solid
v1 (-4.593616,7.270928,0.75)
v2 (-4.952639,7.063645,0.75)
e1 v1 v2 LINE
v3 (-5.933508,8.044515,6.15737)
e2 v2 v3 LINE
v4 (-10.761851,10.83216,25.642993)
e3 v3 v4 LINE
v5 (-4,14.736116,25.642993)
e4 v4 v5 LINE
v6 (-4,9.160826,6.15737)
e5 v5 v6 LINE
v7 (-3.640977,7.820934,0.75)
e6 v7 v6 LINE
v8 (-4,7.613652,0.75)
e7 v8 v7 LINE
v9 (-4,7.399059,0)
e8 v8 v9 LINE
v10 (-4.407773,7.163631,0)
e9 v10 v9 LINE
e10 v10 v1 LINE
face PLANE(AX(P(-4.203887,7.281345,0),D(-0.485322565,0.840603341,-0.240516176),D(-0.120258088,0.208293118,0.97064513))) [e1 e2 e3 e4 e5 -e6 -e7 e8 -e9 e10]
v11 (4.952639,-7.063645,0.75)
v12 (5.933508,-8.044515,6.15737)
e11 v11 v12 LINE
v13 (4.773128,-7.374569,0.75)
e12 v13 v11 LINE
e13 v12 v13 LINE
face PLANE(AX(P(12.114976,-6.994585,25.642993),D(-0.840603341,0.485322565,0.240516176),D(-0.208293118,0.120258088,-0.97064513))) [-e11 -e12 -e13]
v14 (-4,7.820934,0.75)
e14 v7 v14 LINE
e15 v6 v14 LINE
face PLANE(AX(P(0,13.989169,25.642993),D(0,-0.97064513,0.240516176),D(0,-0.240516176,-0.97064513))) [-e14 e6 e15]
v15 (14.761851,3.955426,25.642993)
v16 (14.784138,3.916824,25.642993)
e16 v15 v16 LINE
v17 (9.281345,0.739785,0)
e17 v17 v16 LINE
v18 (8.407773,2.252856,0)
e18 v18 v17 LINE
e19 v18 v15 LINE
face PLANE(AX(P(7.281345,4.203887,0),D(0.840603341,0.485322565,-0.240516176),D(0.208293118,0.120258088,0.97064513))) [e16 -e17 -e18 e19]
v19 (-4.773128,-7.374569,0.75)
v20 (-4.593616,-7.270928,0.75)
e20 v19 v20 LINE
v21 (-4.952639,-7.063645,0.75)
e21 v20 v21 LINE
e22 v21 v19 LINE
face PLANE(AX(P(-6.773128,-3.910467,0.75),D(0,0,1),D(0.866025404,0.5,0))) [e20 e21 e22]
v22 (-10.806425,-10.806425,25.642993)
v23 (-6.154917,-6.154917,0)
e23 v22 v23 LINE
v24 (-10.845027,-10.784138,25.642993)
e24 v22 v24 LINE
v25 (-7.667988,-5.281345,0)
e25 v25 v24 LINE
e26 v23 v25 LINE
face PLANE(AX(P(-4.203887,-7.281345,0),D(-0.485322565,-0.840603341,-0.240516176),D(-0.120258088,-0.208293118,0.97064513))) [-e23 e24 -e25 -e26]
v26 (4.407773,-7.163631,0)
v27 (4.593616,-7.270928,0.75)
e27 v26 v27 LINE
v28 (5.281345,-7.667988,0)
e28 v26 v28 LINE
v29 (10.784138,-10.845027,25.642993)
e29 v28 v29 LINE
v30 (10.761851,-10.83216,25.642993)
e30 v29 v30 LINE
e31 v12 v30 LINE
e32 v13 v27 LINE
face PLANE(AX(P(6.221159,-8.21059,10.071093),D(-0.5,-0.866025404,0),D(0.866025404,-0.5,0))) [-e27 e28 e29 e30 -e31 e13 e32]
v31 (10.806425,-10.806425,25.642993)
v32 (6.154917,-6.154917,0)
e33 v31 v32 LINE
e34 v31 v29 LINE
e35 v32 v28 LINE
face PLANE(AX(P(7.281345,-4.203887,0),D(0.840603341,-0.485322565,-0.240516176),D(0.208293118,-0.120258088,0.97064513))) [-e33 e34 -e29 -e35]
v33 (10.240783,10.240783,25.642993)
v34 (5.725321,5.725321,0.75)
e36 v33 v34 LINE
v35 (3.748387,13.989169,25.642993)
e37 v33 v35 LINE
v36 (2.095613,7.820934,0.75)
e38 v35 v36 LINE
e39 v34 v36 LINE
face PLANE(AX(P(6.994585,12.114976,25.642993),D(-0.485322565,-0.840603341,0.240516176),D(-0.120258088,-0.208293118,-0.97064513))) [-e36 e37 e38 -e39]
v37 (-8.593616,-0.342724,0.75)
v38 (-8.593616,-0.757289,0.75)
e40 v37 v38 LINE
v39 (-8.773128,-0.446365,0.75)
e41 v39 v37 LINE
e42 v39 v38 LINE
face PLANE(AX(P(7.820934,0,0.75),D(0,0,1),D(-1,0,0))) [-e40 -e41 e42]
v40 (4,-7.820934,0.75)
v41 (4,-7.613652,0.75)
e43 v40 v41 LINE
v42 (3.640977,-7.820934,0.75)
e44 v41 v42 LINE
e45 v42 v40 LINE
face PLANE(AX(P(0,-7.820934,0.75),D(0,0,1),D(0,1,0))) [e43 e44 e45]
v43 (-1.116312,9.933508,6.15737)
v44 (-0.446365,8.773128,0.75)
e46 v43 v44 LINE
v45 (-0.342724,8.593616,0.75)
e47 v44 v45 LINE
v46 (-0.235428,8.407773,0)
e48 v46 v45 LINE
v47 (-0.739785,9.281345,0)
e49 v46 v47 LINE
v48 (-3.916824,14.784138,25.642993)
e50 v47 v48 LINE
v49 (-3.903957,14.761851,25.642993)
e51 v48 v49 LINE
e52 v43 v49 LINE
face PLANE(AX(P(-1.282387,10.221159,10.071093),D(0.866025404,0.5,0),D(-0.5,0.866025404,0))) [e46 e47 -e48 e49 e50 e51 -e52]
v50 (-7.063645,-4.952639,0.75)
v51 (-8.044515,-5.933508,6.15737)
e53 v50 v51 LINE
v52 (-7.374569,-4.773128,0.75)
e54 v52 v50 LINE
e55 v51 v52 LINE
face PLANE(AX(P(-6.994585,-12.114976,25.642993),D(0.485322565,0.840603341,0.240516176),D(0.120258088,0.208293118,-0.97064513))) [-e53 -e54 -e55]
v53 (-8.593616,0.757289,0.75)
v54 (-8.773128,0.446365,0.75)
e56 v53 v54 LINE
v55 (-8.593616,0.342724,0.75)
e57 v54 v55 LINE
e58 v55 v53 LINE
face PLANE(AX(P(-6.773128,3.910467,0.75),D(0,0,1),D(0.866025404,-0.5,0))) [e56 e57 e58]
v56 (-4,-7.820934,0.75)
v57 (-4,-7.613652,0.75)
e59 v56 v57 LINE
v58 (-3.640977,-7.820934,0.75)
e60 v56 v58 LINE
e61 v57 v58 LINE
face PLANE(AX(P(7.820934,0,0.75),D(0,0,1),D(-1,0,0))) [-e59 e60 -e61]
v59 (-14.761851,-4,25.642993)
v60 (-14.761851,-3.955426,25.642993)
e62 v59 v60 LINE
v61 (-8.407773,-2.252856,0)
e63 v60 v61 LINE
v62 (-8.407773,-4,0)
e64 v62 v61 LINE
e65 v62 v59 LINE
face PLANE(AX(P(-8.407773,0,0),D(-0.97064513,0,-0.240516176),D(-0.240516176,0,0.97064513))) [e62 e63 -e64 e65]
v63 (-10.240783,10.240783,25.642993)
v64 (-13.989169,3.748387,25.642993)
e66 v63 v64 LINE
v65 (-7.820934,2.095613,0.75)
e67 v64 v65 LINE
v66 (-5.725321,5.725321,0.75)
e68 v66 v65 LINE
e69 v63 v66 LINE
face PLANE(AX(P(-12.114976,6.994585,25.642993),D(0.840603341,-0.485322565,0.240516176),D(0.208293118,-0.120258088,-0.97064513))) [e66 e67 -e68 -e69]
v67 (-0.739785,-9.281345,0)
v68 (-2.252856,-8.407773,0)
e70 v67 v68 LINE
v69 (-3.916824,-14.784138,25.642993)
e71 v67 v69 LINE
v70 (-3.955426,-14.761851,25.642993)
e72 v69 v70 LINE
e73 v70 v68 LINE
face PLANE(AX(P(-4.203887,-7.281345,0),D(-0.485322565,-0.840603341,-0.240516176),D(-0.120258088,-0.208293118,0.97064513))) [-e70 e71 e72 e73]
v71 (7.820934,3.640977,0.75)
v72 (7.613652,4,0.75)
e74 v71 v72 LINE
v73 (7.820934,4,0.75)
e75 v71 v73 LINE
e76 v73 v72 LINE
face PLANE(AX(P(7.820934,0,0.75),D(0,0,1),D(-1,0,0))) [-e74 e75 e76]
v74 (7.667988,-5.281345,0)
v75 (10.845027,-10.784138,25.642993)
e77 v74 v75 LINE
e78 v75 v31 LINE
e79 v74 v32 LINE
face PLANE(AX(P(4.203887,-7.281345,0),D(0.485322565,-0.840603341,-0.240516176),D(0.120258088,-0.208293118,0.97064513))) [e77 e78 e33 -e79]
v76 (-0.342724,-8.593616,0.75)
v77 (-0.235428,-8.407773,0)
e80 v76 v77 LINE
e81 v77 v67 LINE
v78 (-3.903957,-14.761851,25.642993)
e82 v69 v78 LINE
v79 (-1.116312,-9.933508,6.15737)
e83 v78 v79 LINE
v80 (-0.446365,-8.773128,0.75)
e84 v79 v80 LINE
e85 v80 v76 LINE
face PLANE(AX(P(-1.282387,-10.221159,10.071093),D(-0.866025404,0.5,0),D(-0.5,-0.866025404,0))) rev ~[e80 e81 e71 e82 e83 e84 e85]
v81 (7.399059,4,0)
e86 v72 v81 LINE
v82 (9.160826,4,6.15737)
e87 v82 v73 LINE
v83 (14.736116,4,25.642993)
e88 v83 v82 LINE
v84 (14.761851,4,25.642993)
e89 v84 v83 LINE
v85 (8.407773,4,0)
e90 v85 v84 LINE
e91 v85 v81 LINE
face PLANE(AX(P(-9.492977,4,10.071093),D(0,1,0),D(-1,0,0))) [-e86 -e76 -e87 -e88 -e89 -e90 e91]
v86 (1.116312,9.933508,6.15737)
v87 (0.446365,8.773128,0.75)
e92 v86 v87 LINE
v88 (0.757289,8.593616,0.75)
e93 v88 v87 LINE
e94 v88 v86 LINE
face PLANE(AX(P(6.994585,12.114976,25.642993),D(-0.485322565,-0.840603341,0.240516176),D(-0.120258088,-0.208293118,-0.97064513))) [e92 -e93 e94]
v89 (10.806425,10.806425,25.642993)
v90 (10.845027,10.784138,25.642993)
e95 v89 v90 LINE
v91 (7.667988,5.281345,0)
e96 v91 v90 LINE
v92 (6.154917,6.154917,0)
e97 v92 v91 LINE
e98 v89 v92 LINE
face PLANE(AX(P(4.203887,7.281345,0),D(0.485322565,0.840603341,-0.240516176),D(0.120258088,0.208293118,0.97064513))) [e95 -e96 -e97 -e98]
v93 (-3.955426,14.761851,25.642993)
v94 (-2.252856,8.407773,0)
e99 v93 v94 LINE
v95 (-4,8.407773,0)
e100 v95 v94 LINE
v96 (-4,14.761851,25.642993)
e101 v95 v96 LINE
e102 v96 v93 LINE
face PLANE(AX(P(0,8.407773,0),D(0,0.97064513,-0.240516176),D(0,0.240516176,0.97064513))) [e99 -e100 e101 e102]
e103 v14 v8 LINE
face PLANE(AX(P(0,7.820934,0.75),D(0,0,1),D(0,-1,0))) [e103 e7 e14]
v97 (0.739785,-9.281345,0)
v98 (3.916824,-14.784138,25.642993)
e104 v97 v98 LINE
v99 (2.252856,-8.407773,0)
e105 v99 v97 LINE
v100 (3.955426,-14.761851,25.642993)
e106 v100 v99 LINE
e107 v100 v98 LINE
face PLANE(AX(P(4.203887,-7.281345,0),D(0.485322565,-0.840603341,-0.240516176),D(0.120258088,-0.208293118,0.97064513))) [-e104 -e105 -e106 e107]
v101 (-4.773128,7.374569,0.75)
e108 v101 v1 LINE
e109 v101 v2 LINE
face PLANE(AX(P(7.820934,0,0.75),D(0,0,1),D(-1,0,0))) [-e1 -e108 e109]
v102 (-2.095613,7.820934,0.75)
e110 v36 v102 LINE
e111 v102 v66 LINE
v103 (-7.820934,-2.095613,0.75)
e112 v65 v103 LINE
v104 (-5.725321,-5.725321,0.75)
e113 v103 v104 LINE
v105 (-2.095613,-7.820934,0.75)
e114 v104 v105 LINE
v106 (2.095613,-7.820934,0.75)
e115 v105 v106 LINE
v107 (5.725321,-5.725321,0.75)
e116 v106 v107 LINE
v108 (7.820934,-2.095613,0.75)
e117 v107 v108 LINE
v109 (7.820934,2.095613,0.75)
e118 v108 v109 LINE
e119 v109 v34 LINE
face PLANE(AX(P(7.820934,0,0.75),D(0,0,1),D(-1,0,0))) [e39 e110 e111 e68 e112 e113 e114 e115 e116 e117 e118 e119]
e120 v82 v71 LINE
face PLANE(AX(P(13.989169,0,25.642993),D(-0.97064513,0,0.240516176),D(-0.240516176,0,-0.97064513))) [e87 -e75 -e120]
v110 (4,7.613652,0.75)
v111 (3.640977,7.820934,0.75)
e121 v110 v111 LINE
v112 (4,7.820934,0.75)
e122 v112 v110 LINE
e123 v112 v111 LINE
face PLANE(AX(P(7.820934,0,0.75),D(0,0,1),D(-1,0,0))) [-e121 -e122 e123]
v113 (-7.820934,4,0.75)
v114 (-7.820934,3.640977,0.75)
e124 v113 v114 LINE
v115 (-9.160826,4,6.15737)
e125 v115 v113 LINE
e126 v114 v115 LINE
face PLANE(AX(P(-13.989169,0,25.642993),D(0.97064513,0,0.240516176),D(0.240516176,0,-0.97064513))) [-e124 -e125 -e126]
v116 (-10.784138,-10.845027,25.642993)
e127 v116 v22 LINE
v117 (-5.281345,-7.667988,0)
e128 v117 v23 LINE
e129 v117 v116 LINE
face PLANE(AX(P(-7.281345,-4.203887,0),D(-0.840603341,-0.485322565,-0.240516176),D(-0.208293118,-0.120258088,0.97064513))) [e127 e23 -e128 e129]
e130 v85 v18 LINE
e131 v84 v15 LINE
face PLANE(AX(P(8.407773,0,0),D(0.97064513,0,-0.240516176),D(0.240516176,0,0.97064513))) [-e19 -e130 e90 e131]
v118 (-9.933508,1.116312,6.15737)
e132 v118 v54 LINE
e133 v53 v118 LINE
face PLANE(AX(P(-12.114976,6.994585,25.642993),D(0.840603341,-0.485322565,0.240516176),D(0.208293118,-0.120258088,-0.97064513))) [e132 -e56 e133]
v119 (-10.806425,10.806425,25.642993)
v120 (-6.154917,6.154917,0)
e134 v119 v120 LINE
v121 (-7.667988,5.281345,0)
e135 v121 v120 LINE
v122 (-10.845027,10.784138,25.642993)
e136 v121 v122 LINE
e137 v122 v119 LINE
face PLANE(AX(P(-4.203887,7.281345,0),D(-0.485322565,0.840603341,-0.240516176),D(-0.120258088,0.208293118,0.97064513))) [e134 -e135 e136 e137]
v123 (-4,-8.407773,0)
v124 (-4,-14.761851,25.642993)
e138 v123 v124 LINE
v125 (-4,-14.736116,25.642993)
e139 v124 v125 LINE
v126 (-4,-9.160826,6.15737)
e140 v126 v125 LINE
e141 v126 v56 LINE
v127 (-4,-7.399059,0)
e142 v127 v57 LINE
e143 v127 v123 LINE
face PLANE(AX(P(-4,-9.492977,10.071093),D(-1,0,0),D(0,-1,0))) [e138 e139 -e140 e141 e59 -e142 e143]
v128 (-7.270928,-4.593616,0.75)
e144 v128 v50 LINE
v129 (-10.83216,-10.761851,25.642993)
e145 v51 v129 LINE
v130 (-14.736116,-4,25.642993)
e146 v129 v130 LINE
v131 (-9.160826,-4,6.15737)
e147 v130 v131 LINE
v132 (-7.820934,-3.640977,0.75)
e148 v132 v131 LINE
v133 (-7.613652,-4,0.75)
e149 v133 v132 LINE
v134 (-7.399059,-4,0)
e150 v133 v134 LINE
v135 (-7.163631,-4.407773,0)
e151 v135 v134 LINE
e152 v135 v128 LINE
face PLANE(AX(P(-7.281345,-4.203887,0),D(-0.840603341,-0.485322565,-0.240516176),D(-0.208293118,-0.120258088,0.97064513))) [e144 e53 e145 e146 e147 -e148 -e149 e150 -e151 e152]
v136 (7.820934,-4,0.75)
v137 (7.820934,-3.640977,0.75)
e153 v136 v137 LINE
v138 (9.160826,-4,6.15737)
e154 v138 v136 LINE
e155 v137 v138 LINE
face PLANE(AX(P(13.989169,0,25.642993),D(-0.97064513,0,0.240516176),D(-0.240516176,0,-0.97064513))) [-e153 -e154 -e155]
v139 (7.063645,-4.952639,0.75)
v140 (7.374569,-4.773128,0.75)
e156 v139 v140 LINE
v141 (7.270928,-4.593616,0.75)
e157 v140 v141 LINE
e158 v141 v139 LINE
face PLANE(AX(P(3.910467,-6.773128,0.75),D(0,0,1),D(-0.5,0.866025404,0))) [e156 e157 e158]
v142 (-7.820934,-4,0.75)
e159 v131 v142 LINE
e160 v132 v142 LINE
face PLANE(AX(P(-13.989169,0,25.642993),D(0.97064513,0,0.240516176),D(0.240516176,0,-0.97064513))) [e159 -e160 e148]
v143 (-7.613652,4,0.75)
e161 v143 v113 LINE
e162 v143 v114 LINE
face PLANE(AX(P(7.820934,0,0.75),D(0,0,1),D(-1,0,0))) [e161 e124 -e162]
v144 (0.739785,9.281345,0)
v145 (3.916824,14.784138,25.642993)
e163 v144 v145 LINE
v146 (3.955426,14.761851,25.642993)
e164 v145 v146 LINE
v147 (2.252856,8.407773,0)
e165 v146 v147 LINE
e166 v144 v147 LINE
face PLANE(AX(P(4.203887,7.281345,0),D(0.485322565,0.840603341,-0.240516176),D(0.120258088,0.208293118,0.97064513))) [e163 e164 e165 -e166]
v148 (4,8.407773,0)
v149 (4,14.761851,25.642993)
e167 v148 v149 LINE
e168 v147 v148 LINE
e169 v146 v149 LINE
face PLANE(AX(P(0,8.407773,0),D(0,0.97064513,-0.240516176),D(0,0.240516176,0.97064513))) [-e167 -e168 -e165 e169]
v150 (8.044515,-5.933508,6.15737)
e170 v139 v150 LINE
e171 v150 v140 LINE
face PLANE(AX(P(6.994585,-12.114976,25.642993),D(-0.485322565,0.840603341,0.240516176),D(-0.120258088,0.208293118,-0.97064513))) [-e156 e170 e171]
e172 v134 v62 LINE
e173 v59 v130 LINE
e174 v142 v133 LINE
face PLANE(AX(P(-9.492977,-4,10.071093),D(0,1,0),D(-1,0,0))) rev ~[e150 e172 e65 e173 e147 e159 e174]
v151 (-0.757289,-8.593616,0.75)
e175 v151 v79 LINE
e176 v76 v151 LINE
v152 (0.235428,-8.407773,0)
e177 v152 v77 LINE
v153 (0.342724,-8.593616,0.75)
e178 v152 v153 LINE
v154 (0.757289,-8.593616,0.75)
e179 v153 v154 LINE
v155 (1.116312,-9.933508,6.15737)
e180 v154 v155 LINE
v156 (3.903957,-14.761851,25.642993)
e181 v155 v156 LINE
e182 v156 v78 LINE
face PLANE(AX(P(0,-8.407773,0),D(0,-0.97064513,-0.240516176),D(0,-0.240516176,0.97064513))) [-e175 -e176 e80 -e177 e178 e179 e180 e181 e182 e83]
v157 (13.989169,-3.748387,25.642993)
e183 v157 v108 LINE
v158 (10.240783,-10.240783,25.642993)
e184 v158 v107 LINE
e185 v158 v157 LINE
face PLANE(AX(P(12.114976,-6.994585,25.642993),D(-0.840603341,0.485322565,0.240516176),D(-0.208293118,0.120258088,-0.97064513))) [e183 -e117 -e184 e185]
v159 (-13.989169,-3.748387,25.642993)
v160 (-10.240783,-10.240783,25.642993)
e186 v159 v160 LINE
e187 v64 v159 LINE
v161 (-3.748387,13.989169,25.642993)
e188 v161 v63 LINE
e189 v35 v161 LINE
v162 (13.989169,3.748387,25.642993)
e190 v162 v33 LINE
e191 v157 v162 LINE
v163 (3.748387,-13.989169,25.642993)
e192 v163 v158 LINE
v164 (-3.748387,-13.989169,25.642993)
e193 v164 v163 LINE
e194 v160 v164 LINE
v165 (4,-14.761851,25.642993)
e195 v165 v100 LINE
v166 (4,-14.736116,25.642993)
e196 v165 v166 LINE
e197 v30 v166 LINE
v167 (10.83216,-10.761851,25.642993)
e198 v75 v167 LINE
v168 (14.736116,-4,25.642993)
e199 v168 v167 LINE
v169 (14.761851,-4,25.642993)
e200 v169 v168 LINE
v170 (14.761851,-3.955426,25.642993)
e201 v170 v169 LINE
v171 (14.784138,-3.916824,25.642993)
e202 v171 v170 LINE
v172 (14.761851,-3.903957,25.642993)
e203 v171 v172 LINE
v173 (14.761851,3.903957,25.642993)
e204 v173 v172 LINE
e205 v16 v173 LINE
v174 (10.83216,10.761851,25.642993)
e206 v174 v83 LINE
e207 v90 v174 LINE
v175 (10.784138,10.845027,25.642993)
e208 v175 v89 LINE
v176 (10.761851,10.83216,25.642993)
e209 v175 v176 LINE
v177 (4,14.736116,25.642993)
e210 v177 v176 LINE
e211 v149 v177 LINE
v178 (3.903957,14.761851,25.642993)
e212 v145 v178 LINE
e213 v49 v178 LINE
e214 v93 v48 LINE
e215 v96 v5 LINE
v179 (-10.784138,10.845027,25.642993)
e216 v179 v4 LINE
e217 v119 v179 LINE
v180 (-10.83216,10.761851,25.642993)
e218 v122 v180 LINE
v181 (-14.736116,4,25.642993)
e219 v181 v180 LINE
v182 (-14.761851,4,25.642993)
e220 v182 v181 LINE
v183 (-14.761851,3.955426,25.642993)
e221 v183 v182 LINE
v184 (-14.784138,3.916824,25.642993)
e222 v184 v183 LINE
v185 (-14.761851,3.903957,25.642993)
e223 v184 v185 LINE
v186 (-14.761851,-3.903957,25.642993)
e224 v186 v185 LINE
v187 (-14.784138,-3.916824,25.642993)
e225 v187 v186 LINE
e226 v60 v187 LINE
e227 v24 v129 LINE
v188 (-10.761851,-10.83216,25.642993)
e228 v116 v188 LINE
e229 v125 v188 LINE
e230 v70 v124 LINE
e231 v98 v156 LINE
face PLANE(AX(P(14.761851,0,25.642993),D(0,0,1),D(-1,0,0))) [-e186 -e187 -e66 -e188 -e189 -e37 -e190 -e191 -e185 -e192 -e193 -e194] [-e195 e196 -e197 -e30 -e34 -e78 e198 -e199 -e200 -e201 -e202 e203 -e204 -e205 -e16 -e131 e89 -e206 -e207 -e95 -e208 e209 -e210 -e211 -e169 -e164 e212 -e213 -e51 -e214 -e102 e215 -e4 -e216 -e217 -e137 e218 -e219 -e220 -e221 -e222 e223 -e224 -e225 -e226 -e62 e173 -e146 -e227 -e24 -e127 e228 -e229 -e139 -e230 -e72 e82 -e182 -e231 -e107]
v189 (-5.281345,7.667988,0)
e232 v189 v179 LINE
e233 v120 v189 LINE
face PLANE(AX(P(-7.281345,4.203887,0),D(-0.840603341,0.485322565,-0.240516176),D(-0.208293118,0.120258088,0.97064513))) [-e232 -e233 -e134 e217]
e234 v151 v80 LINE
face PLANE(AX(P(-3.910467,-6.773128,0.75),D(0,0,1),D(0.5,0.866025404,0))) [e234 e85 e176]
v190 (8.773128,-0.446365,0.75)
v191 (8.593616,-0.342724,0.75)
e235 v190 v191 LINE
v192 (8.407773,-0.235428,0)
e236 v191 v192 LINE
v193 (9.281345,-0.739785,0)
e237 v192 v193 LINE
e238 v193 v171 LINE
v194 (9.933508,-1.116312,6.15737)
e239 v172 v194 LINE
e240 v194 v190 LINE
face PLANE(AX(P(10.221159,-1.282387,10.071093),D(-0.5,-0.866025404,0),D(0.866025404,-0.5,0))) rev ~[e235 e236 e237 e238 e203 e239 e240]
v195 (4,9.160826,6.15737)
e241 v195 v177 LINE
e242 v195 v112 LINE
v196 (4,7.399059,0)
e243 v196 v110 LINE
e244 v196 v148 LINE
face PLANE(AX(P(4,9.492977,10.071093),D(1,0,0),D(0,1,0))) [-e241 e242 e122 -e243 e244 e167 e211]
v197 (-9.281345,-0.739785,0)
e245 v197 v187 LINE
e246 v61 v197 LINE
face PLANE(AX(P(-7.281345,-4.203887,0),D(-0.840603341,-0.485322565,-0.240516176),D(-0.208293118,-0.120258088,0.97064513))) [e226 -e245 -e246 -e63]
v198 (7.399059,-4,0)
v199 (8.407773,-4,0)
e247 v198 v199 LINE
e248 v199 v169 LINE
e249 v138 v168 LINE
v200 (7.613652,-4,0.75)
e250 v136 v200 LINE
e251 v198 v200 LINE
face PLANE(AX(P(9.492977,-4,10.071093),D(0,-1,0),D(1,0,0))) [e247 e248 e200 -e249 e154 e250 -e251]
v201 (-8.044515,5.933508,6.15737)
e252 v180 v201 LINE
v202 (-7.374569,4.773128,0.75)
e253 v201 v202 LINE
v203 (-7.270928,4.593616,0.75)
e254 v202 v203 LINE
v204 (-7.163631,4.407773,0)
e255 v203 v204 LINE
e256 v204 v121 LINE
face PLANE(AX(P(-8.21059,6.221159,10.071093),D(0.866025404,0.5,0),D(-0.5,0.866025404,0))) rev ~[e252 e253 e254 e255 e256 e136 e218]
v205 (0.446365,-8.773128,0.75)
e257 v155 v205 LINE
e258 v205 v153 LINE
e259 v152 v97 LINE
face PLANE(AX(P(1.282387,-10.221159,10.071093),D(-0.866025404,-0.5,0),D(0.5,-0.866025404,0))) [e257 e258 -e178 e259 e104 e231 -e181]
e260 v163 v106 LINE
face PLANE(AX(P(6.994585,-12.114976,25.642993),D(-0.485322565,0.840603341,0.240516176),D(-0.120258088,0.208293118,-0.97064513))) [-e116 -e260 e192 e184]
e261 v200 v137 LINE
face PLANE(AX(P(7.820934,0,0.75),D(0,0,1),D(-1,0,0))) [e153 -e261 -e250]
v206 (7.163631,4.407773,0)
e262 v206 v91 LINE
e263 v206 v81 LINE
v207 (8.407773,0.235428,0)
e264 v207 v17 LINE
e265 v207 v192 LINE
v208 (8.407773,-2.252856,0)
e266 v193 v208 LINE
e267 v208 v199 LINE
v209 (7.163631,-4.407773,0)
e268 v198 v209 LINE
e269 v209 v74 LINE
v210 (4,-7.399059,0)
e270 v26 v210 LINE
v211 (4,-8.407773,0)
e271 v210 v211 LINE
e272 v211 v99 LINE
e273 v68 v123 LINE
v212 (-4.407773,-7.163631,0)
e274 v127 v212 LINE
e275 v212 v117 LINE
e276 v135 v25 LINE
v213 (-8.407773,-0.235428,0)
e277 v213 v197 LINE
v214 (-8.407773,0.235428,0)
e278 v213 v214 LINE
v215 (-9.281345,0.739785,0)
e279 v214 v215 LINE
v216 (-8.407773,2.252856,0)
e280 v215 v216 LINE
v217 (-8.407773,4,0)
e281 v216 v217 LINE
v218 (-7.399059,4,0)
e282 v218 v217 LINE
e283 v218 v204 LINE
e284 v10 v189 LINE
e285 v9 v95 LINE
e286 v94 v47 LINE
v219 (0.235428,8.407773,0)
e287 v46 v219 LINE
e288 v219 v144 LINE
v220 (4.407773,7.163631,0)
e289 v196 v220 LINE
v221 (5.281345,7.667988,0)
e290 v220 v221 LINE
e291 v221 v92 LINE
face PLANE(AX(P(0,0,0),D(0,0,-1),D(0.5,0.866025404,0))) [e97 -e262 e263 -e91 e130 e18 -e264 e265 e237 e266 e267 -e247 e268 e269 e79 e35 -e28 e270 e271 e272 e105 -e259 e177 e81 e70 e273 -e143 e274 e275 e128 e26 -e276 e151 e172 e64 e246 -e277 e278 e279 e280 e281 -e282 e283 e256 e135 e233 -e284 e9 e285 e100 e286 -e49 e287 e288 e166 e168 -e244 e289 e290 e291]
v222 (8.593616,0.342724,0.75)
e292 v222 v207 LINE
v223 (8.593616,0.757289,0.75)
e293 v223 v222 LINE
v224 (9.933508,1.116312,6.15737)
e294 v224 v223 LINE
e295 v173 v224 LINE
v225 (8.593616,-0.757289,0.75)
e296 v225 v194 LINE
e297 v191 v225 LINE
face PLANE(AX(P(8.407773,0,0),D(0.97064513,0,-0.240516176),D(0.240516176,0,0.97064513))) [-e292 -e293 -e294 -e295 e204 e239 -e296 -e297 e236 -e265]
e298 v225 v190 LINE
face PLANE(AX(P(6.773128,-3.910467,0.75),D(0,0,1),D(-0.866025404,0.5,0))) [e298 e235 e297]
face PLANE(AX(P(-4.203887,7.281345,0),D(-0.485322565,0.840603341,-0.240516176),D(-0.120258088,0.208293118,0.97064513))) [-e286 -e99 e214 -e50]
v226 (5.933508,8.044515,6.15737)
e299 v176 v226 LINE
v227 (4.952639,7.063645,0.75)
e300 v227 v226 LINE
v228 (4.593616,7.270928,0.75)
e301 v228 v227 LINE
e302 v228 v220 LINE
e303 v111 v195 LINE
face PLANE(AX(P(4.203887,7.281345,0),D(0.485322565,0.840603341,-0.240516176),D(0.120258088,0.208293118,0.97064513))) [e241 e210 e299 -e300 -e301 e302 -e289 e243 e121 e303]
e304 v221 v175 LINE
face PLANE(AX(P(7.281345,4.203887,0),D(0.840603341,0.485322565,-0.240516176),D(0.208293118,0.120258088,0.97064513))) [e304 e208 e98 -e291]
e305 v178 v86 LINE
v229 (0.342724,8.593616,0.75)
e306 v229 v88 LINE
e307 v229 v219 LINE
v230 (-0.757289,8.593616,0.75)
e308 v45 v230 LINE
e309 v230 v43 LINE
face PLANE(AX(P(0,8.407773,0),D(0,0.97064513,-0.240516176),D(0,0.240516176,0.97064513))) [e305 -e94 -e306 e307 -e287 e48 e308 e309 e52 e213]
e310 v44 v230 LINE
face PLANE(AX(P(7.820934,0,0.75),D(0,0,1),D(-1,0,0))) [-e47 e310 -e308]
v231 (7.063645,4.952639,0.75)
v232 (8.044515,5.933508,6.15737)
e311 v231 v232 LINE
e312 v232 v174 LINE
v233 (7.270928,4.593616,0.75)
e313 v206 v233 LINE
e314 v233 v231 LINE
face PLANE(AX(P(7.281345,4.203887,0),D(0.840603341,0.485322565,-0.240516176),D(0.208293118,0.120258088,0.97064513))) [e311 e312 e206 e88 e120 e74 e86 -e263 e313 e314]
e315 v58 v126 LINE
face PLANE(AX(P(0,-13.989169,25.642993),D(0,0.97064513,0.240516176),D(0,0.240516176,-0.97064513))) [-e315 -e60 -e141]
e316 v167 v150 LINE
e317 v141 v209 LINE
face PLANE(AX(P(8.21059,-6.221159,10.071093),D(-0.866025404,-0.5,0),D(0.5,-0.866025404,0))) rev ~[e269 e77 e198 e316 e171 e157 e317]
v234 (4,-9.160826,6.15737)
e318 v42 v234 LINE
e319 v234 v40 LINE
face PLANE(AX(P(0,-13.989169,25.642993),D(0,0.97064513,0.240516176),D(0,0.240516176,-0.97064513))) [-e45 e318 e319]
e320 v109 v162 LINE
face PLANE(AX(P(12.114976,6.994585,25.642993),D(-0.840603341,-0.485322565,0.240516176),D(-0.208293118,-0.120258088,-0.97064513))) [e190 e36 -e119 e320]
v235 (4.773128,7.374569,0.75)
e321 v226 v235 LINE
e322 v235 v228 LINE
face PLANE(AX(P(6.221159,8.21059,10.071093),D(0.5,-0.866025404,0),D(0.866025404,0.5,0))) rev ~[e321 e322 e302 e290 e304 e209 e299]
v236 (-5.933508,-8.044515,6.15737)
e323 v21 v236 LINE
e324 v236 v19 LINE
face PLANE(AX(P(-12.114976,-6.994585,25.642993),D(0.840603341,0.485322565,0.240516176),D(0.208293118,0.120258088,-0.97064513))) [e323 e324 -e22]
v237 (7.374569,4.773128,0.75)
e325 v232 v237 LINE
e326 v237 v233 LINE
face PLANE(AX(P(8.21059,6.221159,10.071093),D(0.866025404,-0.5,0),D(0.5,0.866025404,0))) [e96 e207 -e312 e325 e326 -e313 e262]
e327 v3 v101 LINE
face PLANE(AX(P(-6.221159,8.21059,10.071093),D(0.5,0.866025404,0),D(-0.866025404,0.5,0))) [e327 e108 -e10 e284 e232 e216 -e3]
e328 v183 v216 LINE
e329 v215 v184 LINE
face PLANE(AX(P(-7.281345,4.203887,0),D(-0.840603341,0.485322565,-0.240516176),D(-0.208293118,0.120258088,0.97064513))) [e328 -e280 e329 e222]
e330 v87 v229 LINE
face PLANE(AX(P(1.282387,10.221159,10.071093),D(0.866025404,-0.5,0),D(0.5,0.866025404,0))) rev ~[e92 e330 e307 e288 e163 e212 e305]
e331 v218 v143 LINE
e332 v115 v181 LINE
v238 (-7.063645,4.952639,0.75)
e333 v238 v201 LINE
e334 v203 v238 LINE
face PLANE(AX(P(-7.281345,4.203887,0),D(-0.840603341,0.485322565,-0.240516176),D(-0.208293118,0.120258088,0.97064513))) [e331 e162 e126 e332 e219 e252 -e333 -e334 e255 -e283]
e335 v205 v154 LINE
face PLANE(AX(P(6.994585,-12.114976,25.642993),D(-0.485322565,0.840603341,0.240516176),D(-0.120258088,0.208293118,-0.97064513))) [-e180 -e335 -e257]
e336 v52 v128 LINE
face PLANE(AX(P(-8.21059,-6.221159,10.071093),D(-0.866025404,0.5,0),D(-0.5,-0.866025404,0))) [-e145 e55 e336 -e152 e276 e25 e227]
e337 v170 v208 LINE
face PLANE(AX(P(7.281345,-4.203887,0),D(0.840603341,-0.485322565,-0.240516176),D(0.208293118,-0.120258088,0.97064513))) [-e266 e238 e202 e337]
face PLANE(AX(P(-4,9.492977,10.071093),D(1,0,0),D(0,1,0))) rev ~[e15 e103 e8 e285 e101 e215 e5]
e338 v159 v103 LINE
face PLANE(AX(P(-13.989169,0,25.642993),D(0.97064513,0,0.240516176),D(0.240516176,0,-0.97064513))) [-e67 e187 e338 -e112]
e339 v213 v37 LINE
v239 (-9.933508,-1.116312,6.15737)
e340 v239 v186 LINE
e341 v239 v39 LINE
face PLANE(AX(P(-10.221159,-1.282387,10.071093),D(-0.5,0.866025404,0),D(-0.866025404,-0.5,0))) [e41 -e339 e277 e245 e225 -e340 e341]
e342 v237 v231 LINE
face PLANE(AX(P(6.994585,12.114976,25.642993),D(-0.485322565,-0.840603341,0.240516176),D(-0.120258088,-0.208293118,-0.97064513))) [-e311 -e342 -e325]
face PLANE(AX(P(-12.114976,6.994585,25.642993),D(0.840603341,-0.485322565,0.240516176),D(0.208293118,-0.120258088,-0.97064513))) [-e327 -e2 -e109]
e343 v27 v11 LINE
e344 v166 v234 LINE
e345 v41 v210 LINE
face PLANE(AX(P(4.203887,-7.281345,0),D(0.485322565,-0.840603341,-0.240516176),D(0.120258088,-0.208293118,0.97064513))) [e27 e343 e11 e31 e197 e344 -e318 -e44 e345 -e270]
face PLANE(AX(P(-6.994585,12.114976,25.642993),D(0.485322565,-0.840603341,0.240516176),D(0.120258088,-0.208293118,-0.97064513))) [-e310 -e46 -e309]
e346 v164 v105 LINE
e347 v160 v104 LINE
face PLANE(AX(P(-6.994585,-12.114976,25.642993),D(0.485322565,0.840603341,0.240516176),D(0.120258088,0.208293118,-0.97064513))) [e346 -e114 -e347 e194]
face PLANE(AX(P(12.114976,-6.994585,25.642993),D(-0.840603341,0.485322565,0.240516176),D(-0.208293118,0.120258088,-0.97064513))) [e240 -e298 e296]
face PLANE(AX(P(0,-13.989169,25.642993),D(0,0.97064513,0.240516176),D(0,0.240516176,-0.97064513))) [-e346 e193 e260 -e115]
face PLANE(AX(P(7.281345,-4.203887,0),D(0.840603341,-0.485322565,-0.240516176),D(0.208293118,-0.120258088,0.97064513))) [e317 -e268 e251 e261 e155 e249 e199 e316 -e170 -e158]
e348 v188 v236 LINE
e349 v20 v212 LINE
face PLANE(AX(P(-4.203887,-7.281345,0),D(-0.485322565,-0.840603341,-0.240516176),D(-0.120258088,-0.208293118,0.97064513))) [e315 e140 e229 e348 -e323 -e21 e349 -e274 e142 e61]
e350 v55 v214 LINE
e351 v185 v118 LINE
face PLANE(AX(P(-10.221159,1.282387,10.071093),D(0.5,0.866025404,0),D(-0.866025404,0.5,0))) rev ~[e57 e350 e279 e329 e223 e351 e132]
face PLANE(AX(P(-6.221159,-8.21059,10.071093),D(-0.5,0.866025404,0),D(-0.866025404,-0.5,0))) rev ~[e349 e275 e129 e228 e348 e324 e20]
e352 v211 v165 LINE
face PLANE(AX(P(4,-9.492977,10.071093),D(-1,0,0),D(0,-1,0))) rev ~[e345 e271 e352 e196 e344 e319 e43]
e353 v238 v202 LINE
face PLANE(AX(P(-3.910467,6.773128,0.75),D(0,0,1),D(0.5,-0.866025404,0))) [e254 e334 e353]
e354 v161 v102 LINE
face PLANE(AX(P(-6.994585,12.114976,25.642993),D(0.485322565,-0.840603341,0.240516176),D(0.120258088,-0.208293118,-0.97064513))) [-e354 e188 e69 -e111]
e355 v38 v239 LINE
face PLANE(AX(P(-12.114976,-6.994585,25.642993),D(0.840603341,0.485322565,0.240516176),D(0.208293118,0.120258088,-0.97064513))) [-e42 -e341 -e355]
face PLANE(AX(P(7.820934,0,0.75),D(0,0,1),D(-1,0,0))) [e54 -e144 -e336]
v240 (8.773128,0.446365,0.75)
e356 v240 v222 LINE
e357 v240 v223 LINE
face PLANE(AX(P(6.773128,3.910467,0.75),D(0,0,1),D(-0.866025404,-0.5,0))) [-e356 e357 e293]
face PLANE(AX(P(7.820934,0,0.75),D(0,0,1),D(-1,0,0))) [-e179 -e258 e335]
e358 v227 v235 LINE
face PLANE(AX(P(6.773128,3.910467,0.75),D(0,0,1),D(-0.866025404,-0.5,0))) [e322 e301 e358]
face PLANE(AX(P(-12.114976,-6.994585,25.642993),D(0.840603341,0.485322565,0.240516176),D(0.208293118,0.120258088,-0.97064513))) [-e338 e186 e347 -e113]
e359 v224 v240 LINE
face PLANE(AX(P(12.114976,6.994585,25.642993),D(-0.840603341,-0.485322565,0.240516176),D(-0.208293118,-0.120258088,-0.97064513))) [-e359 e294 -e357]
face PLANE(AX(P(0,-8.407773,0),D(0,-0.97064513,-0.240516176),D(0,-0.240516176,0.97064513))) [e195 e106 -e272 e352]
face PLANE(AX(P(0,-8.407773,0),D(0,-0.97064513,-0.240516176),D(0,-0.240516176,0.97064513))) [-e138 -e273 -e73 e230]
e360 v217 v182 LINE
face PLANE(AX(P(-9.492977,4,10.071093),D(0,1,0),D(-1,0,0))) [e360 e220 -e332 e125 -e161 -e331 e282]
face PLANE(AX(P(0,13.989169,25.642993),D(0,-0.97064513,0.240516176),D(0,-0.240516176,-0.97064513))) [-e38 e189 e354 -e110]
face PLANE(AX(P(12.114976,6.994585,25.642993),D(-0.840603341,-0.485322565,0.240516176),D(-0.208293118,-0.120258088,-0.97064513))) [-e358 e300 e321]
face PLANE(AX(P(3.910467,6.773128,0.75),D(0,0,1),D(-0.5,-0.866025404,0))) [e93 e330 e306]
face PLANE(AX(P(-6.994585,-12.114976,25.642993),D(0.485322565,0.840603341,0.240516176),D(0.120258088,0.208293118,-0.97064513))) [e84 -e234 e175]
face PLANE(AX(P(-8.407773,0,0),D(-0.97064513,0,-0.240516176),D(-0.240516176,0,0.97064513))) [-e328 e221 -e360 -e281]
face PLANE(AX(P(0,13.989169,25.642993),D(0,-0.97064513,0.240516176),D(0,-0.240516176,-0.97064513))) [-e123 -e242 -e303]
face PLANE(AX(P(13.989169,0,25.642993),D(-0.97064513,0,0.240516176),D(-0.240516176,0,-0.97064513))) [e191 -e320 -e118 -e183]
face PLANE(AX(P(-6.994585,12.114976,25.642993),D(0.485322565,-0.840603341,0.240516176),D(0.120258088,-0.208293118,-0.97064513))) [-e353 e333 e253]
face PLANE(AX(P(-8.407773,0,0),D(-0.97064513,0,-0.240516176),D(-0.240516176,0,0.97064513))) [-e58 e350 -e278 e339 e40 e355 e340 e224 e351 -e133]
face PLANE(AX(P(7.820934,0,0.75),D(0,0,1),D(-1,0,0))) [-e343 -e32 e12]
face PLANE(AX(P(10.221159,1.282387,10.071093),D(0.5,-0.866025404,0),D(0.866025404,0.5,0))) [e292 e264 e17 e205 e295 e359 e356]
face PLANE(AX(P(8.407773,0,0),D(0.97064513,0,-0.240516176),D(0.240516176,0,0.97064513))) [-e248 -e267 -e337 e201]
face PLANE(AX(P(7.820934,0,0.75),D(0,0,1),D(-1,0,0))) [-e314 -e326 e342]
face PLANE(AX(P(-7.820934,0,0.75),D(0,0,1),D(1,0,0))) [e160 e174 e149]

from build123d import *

# Parameters (mm, degrees)
F1_DEPTH      = 4
F1_DEPTH_BACK = 4
F2_COUNT      = 12


with BuildPart() as f1:
    # F0 (on Front) → F1 (new body, two sides)
    with BuildSketch(Plane.XZ) as f1_sk:
        Polygon((0, 0.75), (0, 0), (8.40777345, 0), (14.7618511692, 25.6429929286), (13.9891691904, 25.6429929286), (7.8209339859, 0.75), (7.5633733264, 0.75), (7.3573247987, 0.75), align=None)
    extrude(amount=F1_DEPTH)
    extrude(f1_sk.sketch, amount=-F1_DEPTH_BACK)

    # F2: F1 ×12 about axis
    f2_axis = Axis((0, 0, 1.0500000276), (0, 0, -1))


with BuildPart() as f1_1:
    add(f1.part)
    for i in range(1, F2_COUNT):
        add(f1.part.rotate(f2_axis, i * 360 / F2_COUNT))


solid = f1_1.part
